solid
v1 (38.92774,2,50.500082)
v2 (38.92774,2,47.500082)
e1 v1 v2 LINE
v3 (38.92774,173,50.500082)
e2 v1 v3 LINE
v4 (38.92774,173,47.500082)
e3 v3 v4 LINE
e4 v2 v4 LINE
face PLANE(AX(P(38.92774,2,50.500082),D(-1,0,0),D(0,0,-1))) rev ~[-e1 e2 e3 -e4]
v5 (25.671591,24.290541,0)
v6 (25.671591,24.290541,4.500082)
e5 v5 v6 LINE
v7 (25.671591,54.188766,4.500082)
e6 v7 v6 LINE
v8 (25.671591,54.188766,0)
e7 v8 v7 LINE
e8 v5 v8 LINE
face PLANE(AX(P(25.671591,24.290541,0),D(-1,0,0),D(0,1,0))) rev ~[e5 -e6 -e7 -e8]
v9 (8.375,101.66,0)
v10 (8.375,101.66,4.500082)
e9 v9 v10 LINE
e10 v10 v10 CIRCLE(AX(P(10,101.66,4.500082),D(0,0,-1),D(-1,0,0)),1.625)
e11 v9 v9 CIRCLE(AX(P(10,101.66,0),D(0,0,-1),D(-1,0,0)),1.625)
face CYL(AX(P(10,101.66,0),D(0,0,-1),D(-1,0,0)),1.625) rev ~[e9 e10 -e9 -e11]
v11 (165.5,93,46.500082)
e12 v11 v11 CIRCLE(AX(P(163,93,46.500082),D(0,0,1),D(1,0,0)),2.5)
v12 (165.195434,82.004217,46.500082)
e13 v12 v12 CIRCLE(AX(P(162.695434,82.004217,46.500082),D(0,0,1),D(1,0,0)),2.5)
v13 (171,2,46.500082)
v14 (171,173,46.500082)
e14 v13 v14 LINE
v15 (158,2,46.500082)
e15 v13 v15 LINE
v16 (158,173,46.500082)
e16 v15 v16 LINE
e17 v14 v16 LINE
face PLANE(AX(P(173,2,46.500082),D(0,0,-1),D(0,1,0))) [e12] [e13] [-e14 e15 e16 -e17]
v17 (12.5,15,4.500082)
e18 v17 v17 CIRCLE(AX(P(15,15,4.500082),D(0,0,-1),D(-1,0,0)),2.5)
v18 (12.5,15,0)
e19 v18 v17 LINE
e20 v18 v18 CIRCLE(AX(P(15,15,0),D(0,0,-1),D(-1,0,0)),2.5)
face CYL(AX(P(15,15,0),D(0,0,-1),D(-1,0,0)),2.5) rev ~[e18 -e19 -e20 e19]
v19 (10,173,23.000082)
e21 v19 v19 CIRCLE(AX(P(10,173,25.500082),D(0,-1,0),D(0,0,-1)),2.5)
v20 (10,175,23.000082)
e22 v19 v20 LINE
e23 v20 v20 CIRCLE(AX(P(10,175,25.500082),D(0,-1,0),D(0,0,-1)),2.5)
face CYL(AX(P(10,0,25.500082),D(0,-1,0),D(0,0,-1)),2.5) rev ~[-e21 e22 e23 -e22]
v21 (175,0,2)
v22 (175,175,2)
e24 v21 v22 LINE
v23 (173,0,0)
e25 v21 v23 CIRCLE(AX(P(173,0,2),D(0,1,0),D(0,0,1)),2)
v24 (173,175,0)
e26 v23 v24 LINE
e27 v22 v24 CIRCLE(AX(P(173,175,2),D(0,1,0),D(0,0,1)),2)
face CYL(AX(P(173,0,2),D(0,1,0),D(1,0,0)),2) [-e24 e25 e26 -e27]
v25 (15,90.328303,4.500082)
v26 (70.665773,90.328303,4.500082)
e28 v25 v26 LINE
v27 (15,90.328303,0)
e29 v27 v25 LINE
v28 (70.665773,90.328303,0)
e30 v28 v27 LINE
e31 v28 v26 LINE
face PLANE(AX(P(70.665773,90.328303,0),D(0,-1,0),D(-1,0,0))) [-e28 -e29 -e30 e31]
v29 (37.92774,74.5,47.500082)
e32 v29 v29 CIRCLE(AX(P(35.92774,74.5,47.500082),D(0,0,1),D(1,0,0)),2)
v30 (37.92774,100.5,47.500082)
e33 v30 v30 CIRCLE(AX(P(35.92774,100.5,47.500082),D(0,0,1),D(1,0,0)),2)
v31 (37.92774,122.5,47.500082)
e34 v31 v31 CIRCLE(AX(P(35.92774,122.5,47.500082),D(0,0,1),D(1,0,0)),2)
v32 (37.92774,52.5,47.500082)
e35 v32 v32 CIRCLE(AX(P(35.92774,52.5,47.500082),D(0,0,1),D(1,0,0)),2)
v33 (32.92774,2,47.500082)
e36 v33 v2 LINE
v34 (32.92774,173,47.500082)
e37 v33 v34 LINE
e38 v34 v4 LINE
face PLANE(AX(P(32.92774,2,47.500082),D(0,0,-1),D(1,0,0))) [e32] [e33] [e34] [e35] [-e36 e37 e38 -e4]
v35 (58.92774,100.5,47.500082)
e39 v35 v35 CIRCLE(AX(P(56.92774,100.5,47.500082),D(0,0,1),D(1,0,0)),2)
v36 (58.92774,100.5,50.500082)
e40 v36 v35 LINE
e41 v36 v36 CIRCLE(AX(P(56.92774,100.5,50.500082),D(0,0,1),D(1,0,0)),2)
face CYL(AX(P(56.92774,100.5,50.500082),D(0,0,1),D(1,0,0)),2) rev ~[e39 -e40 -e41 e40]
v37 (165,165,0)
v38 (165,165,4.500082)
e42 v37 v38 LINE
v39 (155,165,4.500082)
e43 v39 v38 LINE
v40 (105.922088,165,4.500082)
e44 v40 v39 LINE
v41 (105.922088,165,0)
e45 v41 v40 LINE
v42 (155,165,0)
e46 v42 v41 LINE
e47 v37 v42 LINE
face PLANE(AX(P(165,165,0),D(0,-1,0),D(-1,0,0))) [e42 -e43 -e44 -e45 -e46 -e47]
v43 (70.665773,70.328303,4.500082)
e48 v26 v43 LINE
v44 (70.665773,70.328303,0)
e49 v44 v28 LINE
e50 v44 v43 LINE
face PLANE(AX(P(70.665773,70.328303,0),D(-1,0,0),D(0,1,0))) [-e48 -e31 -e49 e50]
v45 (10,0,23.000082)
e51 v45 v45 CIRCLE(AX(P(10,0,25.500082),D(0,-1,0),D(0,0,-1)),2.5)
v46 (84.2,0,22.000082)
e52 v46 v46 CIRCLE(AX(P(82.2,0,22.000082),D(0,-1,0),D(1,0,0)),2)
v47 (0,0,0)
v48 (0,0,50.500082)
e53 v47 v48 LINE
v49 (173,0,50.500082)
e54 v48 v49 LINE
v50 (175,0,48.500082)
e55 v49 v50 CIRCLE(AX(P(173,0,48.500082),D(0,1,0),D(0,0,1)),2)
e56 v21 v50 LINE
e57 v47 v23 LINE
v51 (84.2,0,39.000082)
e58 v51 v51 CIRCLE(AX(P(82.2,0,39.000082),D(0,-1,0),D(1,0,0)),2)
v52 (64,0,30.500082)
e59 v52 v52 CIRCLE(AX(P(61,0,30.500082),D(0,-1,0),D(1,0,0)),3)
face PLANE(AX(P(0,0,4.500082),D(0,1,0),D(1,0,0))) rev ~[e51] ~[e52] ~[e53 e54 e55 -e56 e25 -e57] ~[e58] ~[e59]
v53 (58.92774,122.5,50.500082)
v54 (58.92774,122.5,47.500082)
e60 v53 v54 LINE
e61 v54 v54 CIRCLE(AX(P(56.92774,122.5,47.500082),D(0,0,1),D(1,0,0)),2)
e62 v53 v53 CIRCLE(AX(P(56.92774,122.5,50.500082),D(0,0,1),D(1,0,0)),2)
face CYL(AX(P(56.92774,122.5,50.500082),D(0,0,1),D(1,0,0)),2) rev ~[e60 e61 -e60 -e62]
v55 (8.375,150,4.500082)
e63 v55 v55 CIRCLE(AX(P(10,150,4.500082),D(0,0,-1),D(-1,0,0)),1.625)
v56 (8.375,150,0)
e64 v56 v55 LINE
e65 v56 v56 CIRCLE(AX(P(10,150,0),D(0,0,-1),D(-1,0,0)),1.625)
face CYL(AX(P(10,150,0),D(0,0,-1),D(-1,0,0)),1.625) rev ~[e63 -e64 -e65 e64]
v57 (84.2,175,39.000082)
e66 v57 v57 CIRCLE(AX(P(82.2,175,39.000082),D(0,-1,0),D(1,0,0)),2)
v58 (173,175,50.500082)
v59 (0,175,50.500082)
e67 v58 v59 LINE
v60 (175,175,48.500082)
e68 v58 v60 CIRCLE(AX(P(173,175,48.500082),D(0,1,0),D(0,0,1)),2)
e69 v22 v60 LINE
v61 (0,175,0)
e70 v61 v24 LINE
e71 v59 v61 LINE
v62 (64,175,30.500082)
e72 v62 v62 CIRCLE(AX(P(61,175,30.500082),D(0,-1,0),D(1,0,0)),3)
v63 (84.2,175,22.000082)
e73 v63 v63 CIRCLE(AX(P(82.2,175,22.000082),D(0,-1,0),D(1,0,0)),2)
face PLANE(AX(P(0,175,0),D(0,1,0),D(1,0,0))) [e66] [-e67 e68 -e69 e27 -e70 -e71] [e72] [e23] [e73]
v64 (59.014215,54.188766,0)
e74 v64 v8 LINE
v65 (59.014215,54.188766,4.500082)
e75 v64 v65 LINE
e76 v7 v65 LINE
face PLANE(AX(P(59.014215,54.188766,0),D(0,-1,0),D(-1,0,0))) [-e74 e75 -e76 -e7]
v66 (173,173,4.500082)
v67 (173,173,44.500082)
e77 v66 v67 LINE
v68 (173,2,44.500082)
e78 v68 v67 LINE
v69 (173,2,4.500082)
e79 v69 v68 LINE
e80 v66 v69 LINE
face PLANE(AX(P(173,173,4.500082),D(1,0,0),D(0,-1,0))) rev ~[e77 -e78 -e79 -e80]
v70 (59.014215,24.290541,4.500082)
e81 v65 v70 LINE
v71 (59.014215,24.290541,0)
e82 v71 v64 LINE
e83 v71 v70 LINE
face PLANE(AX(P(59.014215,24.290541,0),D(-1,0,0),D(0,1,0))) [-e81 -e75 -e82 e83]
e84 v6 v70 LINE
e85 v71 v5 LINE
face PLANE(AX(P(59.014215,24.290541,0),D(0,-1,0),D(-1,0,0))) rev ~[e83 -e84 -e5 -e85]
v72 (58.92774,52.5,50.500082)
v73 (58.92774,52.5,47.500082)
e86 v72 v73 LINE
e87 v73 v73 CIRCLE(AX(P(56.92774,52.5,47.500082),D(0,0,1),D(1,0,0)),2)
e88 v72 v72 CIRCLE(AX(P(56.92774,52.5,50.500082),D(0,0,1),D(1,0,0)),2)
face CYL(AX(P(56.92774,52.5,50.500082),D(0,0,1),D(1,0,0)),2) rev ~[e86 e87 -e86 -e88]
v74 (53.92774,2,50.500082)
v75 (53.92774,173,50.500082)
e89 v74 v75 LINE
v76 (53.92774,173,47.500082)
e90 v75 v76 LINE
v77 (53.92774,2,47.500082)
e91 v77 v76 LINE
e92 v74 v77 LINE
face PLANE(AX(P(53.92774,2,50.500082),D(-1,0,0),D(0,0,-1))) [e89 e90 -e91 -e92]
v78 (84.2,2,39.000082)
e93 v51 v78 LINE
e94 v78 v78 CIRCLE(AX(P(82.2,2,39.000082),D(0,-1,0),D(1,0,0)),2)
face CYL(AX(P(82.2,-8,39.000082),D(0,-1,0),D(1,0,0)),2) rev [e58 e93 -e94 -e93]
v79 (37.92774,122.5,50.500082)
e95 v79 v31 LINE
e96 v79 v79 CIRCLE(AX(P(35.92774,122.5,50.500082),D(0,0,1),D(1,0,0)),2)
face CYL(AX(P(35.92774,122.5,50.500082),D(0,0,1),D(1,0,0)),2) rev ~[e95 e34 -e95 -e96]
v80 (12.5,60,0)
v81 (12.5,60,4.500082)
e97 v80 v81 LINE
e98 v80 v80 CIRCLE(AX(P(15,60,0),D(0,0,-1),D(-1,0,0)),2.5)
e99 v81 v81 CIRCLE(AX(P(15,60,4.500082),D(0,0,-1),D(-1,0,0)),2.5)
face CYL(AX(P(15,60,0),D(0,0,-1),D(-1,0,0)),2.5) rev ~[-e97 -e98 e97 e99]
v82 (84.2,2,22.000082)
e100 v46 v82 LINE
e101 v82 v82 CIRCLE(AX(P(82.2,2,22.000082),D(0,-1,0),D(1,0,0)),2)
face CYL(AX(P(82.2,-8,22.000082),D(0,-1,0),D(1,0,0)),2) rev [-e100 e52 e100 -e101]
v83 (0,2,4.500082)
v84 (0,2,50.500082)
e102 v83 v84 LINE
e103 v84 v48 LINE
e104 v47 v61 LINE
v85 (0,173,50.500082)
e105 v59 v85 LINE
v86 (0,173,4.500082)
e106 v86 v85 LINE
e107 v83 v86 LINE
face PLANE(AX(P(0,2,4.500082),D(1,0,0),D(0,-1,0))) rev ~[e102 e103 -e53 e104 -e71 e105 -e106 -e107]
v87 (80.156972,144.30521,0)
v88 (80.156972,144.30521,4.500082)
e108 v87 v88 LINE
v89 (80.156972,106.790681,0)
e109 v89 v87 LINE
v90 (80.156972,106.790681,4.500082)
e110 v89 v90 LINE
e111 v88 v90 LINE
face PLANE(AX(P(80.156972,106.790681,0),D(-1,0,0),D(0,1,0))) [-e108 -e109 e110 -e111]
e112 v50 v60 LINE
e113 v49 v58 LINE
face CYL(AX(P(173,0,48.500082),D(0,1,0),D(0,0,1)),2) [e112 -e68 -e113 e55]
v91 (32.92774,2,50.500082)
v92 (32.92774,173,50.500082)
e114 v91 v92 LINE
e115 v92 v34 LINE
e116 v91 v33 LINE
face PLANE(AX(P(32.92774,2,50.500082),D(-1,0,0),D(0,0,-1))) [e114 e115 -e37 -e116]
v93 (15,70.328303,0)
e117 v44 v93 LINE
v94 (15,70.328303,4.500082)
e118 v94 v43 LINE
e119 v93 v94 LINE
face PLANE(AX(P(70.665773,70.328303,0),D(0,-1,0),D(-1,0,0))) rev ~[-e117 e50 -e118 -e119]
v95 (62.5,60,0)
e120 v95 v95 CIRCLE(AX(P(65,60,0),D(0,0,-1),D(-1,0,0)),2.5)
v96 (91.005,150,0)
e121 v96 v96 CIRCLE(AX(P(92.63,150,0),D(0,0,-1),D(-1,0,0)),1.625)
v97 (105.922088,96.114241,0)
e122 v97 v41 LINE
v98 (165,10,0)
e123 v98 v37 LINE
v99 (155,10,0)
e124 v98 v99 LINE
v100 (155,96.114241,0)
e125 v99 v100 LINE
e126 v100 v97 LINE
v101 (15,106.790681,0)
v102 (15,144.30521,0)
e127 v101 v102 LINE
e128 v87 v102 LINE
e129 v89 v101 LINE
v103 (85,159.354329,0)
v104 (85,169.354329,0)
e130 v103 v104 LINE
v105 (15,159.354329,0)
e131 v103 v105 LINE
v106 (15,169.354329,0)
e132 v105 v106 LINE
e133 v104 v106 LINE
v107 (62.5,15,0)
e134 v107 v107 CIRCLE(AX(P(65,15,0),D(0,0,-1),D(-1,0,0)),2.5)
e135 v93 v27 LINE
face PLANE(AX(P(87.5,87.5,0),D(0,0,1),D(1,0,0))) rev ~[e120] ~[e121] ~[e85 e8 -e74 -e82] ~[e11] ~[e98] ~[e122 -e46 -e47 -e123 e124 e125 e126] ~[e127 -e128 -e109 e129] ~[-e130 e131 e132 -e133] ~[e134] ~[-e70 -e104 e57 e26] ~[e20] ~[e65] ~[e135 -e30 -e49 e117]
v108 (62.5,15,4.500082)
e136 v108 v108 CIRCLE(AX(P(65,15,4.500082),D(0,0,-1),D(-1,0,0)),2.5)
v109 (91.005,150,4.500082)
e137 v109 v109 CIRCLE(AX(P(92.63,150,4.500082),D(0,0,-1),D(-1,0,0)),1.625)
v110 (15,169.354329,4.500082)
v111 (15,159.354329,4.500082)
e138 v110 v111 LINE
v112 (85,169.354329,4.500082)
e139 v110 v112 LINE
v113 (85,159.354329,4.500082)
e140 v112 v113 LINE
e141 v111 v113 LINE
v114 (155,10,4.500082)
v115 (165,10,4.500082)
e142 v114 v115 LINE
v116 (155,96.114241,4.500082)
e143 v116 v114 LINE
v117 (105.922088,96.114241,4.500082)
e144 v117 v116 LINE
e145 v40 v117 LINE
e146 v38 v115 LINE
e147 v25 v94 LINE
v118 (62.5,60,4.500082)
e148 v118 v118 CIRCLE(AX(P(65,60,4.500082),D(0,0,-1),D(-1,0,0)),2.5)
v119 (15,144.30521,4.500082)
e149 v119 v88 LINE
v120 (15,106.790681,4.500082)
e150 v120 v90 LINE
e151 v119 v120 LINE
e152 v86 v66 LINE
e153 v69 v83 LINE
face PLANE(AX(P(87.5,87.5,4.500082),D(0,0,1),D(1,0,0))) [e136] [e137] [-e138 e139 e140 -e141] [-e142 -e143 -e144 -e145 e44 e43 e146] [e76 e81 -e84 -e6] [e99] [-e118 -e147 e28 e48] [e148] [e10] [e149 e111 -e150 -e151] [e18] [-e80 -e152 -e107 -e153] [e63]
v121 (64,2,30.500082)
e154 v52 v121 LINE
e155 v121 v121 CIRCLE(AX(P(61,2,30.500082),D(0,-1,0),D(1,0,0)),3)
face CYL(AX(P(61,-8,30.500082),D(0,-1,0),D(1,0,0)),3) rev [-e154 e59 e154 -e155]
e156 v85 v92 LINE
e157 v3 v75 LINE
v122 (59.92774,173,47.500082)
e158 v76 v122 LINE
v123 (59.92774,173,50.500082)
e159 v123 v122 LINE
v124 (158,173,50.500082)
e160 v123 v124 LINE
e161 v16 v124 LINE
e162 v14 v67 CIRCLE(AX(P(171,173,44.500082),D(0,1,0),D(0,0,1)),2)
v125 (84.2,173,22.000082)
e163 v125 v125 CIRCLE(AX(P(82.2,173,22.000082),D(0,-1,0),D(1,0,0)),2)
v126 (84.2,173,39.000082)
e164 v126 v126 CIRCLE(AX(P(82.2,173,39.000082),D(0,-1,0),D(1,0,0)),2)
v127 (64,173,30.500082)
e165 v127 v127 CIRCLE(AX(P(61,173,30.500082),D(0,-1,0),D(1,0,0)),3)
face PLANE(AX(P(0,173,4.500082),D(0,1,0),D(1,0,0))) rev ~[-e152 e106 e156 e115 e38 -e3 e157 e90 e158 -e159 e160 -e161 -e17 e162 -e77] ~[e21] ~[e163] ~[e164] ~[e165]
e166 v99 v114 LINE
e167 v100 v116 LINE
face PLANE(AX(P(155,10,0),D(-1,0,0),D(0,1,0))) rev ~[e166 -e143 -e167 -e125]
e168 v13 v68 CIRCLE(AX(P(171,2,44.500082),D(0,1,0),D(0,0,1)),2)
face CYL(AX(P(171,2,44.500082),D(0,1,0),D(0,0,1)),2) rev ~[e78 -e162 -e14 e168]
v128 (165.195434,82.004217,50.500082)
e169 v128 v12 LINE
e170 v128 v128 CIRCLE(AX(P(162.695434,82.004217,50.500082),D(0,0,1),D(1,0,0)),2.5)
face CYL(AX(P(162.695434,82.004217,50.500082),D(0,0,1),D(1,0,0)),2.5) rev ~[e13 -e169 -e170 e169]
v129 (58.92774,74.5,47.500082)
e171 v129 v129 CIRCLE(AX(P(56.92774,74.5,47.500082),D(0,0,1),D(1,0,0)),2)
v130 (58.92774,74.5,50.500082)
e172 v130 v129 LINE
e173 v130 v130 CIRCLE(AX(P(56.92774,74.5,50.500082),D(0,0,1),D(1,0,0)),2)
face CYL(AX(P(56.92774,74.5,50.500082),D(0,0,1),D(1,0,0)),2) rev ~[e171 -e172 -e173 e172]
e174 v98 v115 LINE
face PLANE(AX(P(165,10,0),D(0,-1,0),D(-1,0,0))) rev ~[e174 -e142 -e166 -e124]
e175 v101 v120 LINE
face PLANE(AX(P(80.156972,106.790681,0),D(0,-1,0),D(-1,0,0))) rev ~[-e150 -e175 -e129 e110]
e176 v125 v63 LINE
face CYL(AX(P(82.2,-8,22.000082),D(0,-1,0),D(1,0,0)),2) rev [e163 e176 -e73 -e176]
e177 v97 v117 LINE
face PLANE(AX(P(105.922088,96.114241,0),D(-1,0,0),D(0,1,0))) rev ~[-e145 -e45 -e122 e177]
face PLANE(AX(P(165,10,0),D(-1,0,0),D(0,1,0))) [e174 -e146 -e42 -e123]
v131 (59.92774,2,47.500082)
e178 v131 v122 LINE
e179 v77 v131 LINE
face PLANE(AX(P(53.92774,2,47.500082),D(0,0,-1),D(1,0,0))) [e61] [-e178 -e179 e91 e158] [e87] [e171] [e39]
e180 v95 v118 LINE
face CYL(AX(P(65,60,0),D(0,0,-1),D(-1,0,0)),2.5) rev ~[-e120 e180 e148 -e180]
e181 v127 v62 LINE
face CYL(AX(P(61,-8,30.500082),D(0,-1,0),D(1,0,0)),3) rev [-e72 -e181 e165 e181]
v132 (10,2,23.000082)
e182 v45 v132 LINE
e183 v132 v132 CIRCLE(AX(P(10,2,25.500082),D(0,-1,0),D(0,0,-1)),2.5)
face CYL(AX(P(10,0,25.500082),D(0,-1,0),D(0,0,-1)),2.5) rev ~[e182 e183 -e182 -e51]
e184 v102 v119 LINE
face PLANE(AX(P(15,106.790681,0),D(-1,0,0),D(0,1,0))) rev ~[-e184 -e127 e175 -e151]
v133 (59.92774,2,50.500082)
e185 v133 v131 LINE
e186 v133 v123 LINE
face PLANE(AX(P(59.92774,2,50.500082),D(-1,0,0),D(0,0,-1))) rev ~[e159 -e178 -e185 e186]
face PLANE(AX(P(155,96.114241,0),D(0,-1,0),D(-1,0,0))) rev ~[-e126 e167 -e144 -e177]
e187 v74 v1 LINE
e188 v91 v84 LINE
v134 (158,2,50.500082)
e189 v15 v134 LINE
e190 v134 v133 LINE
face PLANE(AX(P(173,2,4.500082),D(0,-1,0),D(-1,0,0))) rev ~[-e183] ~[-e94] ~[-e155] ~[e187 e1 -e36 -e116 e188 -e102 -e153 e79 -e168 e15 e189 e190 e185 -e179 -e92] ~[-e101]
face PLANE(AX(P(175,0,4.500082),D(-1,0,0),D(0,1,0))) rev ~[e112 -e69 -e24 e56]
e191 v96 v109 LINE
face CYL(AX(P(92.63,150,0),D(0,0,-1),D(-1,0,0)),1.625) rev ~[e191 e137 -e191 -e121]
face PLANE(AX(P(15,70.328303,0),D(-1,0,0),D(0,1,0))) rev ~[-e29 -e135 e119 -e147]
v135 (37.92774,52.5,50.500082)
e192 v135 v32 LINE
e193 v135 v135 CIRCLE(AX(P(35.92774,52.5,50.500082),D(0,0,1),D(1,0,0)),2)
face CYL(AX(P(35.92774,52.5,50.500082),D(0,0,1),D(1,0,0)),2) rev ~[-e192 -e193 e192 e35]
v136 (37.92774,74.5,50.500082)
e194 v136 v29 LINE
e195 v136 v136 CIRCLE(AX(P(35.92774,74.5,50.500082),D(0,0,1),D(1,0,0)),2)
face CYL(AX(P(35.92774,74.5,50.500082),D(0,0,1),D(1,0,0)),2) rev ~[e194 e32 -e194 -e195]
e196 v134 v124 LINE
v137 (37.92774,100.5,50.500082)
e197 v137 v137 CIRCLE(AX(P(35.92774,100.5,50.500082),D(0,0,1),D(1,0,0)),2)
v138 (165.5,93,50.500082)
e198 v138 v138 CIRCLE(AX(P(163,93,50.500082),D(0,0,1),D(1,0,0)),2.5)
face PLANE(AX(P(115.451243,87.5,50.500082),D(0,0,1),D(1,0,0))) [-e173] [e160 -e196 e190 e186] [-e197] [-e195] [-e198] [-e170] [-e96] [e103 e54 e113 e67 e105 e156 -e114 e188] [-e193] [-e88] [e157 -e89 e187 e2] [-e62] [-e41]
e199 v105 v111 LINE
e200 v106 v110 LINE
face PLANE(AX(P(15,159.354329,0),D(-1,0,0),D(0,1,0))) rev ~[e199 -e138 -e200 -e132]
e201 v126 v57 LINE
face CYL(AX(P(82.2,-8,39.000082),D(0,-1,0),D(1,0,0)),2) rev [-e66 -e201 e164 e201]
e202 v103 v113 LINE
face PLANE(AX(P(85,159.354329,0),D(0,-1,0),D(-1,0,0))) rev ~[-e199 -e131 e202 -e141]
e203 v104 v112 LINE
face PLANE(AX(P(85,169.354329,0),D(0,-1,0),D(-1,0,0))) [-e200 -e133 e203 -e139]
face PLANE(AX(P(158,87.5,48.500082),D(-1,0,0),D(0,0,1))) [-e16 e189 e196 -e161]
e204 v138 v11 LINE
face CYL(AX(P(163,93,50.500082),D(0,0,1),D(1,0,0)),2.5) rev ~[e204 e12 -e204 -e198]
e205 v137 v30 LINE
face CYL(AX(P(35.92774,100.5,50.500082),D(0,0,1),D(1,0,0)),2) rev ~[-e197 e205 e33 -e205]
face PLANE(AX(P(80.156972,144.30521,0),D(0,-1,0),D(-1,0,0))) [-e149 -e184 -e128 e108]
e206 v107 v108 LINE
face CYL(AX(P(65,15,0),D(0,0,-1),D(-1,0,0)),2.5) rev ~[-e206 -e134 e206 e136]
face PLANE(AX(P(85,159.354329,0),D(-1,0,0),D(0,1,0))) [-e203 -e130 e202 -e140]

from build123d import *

# Parameters (mm, degrees)
ESQUISSE1_W                   = 175
ESQUISSE1_H                   = 175
BOSS_EXTRU_1_DEPTH            = 4.500081728
BOSS_EXTRU_4_DEPTH            = 46
ESQUISSE12_W                  = 4
ESQUISSE12_H                  = 171
BOSS_EXTRU_5_DEPTH            = 15
ESQUISSE13_R                  = 2.5
ENL_V_MAT_EXTRU_1_DEPTH       = 15
ESQUISSE15_R                  = 2.5
ENL_V_MAT_EXTRU_2_DEPTH       = 253.587130026
ESQUISSE18_W                  = 10
ESQUISSE18_H                  = 155
ENL_V_MAT_EXTRU_3_DEPTH       = 15
ESQUISSE19_R                  = 1.625
ENL_V_MAT_EXTRU_4_DEPTH       = 15
CONG_4_R                      = 2
CONG_5_R                      = 2
CONG_6_R                      = 2
ESQUISSE22_R                  = 2.5
ENL_V_MAT_EXTRU_5_DEPTH       = 10
ESQUISSE27_W                  = 49.077912464
ESQUISSE27_H                  = 68.885759281
ESQUISSE27_W_2                = 65.156972179
ESQUISSE27_H_2                = 37.514528632
ESQUISSE27_W_3                = 33.342624299
ESQUISSE27_H_3                = 29.898225407
ESQUISSE27_W_4                = 70
ESQUISSE27_H_4                = 10
ESQUISSE27_W_5                = 55.665773392
ESQUISSE27_H_5                = 20
ENL_V_MAT_EXTRU_8_DEPTH       = 7.5
BOSS_EXTRU_8_REACH            = 253.206
ESQUISSE28_W                  = 6
ESQUISSE28_H                  = 3
ESQUISSE29_R                  = 2
ENL_V_MAT_EXTRU_9_DEPTH       = 3
ENL_V_MAT_EXTRU_10_DEPTH      = 199
ENL_V_MAT_EXTRU_10_DEPTH_BACK = 10
ESQUISSE30_R                  = 3
ESQUISSE30_R_2                = 2


with BuildPart() as part:
    # Esquisse1 → Boss.-Extru.1 (new body)
    with BuildSketch(Plane.XY):
        with Locations((87.5, 87.5)):
            Rectangle(ESQUISSE1_W, ESQUISSE1_H)
    extrude(amount=BOSS_EXTRU_1_DEPTH)

    # Esquisse9 → Boss.-Extru.4 (add)
    with BuildSketch(Plane.XY.offset(4.500081728)):
        Polygon((0, 2), (0, 0), (172, 0), (175, 0), (175, 4), (175, 146), (175, 175), (173, 175), (0, 175), (0, 173), (173, 173), (173, 2), align=None)
    extrude(amount=BOSS_EXTRU_4_DEPTH)

    # Esquisse12 → Boss.-Extru.5 (add)
    with BuildSketch(Plane.ZY.offset(-173)):
        with Locations((48.500081728, 87.5)):
            Rectangle(ESQUISSE12_W, ESQUISSE12_H)
    extrude(amount=BOSS_EXTRU_5_DEPTH)

    # Esquisse13 → Enlèv. mat.-Extru.1 (cut)
    with BuildSketch(Plane.XY.offset(50.500081728)):
        with Locations((162.695433775, 82.004217199)):
            Circle(ESQUISSE13_R)
        with Locations((163, 93)):
            Circle(ESQUISSE13_R)
    extrude(amount=-ENL_V_MAT_EXTRU_1_DEPTH, mode=Mode.SUBTRACT)

    # Esquisse15 → Enlèv. mat.-Extru.2 (cut, through all)
    with BuildSketch(Plane.XZ):
        with Locations(Location((10, 25.500081728, 0), (0, 0, 270))):
            Circle(ESQUISSE15_R)
    extrude(amount=-ENL_V_MAT_EXTRU_2_DEPTH, mode=Mode.SUBTRACT)

    # Esquisse18 → Enlèv. mat.-Extru.3 (cut)
    with BuildSketch(Plane(origin=(0, 0, 0), x_dir=(-1, 0, 0), z_dir=(0, 0, -1))):
        with Locations((-160, 87.5)):
            Rectangle(ESQUISSE18_W, ESQUISSE18_H)
    extrude(amount=-ENL_V_MAT_EXTRU_3_DEPTH, mode=Mode.SUBTRACT)

    # Esquisse19 → Enlèv. mat.-Extru.4 (cut)
    with BuildSketch(Plane(origin=(0, 0, 0), x_dir=(-1, 0, 0), z_dir=(0, 0, -1))):
        with Locations((-92.63, 150)):
            Circle(ESQUISSE19_R)
        with Locations((-10, 150)):
            Circle(ESQUISSE19_R)
        with Locations((-10, 101.66)):
            Circle(ESQUISSE19_R)
    extrude(amount=-ENL_V_MAT_EXTRU_4_DEPTH, mode=Mode.SUBTRACT)

    # Congé4
    cong_4_edges = [part.edges().sort_by_distance(p)[0] for p in [
        (173, 87.5, 46.500081728),
    ]]
    fillet(cong_4_edges, radius=CONG_4_R)

    # Congé5
    cong_5_edges = [part.edges().sort_by_distance(p)[0] for p in [
        (175, 87.5, 50.500081728),
    ]]
    fillet(cong_5_edges, radius=CONG_5_R)

    # Congé6
    cong_6_edges = [part.edges().sort_by_distance(p)[0] for p in [
        (175, 87.5, 0),
    ]]
    fillet(cong_6_edges, radius=CONG_6_R)

    # Esquisse22 → Enlèv. mat.-Extru.5 (cut)
    with BuildSketch(Plane(origin=(0, 0, 0), x_dir=(-1, 0, 0), z_dir=(0, 0, -1))):
        with Locations((-15, 15)):
            Circle(ESQUISSE22_R)
        with Locations((-65, 15)):
            Circle(ESQUISSE22_R)
        with Locations((-65, 60)):
            Circle(ESQUISSE22_R)
        with Locations((-15, 60)):
            Circle(ESQUISSE22_R)
    extrude(amount=-ENL_V_MAT_EXTRU_5_DEPTH, mode=Mode.SUBTRACT)

    # Esquisse27 → Enlèv. mat.-Extru.8 (cut)
    with BuildSketch(Plane(origin=(0, 0, 0), x_dir=(-1, 0, 0), z_dir=(0, 0, -1))):
        with Locations((-130.461043768, 130.55712036)):
            Rectangle(ESQUISSE27_W, ESQUISSE27_H)
        with Locations((-47.57848609, 125.547945711)):
            Rectangle(ESQUISSE27_W_2, ESQUISSE27_H_2)
        with Locations((-42.34290333, 39.239653333)):
            Rectangle(ESQUISSE27_W_3, ESQUISSE27_H_3)
        with Locations((-50, 164.354328762)):
            Rectangle(ESQUISSE27_W_4, ESQUISSE27_H_4)
        with Locations((-42.832886696, 80.328302815)):
            Rectangle(ESQUISSE27_W_5, ESQUISSE27_H_5)
    extrude(amount=-ENL_V_MAT_EXTRU_8_DEPTH, mode=Mode.SUBTRACT)

    # Esquisse28 → Boss.-Extru.8 (add, up to next)
    with BuildSketch(Plane(origin=(0, 2, 0), x_dir=(1, 0, 0), z_dir=(0, 1, 0)), mode=Mode.PRIVATE) as boss_extru_8_sk1:
        with Locations((35.927740349, -49.000081728)):
            Rectangle(ESQUISSE28_W, ESQUISSE28_H)
    boss_extru_8_tool1 = extrude(boss_extru_8_sk1.sketch, amount=BOSS_EXTRU_8_REACH, mode=Mode.PRIVATE) - part.part
    # Esquisse28 → Boss.-Extru.8 (add, up to next)
    with BuildSketch(Plane(origin=(0, 2, 0), x_dir=(1, 0, 0), z_dir=(0, 1, 0)), mode=Mode.PRIVATE) as boss_extru_8_sk2:
        with Locations((56.927740349, -49.000081728)):
            Rectangle(ESQUISSE28_W, ESQUISSE28_H)
    boss_extru_8_tool2 = extrude(boss_extru_8_sk2.sketch, amount=BOSS_EXTRU_8_REACH, mode=Mode.PRIVATE) - part.part
    add(boss_extru_8_tool1.solids().sort_by_distance((35.92774, 2, 49.000082))[0])
    add(boss_extru_8_tool2.solids().sort_by_distance((56.92774, 2, 49.000082))[0])

    # Esquisse29 → Enlèv. mat.-Extru.9 (cut)
    with BuildSketch(Plane.XY.offset(50.500081728)):
        with Locations((56.927740349, 74.5)):
            Circle(ESQUISSE29_R)
        with Locations((35.927740349, 74.5)):
            Circle(ESQUISSE29_R)
        with Locations((56.927740349, 52.5)):
            Circle(ESQUISSE29_R)
        with Locations((35.927740349, 52.5)):
            Circle(ESQUISSE29_R)
        with Locations((56.927740349, 100.5)):
            Circle(ESQUISSE29_R)
        with Locations((35.927740349, 100.5)):
            Circle(ESQUISSE29_R)
        with Locations((35.927740349, 122.5)):
            Circle(ESQUISSE29_R)
        with Locations((56.927740349, 122.5)):
            Circle(ESQUISSE29_R)
    extrude(amount=-ENL_V_MAT_EXTRU_9_DEPTH, mode=Mode.SUBTRACT)

    # Esquisse30 → Enlèv. mat.-Extru.10 (cut, two sides: drawn at the far end of the back side and taken through both)
    with BuildSketch(Plane(origin=(0, 2, 0), x_dir=(1, 0, 0), z_dir=(0, 1, 0)).offset(-ENL_V_MAT_EXTRU_10_DEPTH_BACK)):
        with Locations((61, -30.500081728)):
            Circle(ESQUISSE30_R)
        with Locations((82.2, -39.000081728)):
            Circle(ESQUISSE30_R_2)
        with Locations((82.2, -22.000081728)):
            Circle(ESQUISSE30_R_2)
    extrude(amount=ENL_V_MAT_EXTRU_10_DEPTH + ENL_V_MAT_EXTRU_10_DEPTH_BACK, mode=Mode.SUBTRACT)


solid = part.part
